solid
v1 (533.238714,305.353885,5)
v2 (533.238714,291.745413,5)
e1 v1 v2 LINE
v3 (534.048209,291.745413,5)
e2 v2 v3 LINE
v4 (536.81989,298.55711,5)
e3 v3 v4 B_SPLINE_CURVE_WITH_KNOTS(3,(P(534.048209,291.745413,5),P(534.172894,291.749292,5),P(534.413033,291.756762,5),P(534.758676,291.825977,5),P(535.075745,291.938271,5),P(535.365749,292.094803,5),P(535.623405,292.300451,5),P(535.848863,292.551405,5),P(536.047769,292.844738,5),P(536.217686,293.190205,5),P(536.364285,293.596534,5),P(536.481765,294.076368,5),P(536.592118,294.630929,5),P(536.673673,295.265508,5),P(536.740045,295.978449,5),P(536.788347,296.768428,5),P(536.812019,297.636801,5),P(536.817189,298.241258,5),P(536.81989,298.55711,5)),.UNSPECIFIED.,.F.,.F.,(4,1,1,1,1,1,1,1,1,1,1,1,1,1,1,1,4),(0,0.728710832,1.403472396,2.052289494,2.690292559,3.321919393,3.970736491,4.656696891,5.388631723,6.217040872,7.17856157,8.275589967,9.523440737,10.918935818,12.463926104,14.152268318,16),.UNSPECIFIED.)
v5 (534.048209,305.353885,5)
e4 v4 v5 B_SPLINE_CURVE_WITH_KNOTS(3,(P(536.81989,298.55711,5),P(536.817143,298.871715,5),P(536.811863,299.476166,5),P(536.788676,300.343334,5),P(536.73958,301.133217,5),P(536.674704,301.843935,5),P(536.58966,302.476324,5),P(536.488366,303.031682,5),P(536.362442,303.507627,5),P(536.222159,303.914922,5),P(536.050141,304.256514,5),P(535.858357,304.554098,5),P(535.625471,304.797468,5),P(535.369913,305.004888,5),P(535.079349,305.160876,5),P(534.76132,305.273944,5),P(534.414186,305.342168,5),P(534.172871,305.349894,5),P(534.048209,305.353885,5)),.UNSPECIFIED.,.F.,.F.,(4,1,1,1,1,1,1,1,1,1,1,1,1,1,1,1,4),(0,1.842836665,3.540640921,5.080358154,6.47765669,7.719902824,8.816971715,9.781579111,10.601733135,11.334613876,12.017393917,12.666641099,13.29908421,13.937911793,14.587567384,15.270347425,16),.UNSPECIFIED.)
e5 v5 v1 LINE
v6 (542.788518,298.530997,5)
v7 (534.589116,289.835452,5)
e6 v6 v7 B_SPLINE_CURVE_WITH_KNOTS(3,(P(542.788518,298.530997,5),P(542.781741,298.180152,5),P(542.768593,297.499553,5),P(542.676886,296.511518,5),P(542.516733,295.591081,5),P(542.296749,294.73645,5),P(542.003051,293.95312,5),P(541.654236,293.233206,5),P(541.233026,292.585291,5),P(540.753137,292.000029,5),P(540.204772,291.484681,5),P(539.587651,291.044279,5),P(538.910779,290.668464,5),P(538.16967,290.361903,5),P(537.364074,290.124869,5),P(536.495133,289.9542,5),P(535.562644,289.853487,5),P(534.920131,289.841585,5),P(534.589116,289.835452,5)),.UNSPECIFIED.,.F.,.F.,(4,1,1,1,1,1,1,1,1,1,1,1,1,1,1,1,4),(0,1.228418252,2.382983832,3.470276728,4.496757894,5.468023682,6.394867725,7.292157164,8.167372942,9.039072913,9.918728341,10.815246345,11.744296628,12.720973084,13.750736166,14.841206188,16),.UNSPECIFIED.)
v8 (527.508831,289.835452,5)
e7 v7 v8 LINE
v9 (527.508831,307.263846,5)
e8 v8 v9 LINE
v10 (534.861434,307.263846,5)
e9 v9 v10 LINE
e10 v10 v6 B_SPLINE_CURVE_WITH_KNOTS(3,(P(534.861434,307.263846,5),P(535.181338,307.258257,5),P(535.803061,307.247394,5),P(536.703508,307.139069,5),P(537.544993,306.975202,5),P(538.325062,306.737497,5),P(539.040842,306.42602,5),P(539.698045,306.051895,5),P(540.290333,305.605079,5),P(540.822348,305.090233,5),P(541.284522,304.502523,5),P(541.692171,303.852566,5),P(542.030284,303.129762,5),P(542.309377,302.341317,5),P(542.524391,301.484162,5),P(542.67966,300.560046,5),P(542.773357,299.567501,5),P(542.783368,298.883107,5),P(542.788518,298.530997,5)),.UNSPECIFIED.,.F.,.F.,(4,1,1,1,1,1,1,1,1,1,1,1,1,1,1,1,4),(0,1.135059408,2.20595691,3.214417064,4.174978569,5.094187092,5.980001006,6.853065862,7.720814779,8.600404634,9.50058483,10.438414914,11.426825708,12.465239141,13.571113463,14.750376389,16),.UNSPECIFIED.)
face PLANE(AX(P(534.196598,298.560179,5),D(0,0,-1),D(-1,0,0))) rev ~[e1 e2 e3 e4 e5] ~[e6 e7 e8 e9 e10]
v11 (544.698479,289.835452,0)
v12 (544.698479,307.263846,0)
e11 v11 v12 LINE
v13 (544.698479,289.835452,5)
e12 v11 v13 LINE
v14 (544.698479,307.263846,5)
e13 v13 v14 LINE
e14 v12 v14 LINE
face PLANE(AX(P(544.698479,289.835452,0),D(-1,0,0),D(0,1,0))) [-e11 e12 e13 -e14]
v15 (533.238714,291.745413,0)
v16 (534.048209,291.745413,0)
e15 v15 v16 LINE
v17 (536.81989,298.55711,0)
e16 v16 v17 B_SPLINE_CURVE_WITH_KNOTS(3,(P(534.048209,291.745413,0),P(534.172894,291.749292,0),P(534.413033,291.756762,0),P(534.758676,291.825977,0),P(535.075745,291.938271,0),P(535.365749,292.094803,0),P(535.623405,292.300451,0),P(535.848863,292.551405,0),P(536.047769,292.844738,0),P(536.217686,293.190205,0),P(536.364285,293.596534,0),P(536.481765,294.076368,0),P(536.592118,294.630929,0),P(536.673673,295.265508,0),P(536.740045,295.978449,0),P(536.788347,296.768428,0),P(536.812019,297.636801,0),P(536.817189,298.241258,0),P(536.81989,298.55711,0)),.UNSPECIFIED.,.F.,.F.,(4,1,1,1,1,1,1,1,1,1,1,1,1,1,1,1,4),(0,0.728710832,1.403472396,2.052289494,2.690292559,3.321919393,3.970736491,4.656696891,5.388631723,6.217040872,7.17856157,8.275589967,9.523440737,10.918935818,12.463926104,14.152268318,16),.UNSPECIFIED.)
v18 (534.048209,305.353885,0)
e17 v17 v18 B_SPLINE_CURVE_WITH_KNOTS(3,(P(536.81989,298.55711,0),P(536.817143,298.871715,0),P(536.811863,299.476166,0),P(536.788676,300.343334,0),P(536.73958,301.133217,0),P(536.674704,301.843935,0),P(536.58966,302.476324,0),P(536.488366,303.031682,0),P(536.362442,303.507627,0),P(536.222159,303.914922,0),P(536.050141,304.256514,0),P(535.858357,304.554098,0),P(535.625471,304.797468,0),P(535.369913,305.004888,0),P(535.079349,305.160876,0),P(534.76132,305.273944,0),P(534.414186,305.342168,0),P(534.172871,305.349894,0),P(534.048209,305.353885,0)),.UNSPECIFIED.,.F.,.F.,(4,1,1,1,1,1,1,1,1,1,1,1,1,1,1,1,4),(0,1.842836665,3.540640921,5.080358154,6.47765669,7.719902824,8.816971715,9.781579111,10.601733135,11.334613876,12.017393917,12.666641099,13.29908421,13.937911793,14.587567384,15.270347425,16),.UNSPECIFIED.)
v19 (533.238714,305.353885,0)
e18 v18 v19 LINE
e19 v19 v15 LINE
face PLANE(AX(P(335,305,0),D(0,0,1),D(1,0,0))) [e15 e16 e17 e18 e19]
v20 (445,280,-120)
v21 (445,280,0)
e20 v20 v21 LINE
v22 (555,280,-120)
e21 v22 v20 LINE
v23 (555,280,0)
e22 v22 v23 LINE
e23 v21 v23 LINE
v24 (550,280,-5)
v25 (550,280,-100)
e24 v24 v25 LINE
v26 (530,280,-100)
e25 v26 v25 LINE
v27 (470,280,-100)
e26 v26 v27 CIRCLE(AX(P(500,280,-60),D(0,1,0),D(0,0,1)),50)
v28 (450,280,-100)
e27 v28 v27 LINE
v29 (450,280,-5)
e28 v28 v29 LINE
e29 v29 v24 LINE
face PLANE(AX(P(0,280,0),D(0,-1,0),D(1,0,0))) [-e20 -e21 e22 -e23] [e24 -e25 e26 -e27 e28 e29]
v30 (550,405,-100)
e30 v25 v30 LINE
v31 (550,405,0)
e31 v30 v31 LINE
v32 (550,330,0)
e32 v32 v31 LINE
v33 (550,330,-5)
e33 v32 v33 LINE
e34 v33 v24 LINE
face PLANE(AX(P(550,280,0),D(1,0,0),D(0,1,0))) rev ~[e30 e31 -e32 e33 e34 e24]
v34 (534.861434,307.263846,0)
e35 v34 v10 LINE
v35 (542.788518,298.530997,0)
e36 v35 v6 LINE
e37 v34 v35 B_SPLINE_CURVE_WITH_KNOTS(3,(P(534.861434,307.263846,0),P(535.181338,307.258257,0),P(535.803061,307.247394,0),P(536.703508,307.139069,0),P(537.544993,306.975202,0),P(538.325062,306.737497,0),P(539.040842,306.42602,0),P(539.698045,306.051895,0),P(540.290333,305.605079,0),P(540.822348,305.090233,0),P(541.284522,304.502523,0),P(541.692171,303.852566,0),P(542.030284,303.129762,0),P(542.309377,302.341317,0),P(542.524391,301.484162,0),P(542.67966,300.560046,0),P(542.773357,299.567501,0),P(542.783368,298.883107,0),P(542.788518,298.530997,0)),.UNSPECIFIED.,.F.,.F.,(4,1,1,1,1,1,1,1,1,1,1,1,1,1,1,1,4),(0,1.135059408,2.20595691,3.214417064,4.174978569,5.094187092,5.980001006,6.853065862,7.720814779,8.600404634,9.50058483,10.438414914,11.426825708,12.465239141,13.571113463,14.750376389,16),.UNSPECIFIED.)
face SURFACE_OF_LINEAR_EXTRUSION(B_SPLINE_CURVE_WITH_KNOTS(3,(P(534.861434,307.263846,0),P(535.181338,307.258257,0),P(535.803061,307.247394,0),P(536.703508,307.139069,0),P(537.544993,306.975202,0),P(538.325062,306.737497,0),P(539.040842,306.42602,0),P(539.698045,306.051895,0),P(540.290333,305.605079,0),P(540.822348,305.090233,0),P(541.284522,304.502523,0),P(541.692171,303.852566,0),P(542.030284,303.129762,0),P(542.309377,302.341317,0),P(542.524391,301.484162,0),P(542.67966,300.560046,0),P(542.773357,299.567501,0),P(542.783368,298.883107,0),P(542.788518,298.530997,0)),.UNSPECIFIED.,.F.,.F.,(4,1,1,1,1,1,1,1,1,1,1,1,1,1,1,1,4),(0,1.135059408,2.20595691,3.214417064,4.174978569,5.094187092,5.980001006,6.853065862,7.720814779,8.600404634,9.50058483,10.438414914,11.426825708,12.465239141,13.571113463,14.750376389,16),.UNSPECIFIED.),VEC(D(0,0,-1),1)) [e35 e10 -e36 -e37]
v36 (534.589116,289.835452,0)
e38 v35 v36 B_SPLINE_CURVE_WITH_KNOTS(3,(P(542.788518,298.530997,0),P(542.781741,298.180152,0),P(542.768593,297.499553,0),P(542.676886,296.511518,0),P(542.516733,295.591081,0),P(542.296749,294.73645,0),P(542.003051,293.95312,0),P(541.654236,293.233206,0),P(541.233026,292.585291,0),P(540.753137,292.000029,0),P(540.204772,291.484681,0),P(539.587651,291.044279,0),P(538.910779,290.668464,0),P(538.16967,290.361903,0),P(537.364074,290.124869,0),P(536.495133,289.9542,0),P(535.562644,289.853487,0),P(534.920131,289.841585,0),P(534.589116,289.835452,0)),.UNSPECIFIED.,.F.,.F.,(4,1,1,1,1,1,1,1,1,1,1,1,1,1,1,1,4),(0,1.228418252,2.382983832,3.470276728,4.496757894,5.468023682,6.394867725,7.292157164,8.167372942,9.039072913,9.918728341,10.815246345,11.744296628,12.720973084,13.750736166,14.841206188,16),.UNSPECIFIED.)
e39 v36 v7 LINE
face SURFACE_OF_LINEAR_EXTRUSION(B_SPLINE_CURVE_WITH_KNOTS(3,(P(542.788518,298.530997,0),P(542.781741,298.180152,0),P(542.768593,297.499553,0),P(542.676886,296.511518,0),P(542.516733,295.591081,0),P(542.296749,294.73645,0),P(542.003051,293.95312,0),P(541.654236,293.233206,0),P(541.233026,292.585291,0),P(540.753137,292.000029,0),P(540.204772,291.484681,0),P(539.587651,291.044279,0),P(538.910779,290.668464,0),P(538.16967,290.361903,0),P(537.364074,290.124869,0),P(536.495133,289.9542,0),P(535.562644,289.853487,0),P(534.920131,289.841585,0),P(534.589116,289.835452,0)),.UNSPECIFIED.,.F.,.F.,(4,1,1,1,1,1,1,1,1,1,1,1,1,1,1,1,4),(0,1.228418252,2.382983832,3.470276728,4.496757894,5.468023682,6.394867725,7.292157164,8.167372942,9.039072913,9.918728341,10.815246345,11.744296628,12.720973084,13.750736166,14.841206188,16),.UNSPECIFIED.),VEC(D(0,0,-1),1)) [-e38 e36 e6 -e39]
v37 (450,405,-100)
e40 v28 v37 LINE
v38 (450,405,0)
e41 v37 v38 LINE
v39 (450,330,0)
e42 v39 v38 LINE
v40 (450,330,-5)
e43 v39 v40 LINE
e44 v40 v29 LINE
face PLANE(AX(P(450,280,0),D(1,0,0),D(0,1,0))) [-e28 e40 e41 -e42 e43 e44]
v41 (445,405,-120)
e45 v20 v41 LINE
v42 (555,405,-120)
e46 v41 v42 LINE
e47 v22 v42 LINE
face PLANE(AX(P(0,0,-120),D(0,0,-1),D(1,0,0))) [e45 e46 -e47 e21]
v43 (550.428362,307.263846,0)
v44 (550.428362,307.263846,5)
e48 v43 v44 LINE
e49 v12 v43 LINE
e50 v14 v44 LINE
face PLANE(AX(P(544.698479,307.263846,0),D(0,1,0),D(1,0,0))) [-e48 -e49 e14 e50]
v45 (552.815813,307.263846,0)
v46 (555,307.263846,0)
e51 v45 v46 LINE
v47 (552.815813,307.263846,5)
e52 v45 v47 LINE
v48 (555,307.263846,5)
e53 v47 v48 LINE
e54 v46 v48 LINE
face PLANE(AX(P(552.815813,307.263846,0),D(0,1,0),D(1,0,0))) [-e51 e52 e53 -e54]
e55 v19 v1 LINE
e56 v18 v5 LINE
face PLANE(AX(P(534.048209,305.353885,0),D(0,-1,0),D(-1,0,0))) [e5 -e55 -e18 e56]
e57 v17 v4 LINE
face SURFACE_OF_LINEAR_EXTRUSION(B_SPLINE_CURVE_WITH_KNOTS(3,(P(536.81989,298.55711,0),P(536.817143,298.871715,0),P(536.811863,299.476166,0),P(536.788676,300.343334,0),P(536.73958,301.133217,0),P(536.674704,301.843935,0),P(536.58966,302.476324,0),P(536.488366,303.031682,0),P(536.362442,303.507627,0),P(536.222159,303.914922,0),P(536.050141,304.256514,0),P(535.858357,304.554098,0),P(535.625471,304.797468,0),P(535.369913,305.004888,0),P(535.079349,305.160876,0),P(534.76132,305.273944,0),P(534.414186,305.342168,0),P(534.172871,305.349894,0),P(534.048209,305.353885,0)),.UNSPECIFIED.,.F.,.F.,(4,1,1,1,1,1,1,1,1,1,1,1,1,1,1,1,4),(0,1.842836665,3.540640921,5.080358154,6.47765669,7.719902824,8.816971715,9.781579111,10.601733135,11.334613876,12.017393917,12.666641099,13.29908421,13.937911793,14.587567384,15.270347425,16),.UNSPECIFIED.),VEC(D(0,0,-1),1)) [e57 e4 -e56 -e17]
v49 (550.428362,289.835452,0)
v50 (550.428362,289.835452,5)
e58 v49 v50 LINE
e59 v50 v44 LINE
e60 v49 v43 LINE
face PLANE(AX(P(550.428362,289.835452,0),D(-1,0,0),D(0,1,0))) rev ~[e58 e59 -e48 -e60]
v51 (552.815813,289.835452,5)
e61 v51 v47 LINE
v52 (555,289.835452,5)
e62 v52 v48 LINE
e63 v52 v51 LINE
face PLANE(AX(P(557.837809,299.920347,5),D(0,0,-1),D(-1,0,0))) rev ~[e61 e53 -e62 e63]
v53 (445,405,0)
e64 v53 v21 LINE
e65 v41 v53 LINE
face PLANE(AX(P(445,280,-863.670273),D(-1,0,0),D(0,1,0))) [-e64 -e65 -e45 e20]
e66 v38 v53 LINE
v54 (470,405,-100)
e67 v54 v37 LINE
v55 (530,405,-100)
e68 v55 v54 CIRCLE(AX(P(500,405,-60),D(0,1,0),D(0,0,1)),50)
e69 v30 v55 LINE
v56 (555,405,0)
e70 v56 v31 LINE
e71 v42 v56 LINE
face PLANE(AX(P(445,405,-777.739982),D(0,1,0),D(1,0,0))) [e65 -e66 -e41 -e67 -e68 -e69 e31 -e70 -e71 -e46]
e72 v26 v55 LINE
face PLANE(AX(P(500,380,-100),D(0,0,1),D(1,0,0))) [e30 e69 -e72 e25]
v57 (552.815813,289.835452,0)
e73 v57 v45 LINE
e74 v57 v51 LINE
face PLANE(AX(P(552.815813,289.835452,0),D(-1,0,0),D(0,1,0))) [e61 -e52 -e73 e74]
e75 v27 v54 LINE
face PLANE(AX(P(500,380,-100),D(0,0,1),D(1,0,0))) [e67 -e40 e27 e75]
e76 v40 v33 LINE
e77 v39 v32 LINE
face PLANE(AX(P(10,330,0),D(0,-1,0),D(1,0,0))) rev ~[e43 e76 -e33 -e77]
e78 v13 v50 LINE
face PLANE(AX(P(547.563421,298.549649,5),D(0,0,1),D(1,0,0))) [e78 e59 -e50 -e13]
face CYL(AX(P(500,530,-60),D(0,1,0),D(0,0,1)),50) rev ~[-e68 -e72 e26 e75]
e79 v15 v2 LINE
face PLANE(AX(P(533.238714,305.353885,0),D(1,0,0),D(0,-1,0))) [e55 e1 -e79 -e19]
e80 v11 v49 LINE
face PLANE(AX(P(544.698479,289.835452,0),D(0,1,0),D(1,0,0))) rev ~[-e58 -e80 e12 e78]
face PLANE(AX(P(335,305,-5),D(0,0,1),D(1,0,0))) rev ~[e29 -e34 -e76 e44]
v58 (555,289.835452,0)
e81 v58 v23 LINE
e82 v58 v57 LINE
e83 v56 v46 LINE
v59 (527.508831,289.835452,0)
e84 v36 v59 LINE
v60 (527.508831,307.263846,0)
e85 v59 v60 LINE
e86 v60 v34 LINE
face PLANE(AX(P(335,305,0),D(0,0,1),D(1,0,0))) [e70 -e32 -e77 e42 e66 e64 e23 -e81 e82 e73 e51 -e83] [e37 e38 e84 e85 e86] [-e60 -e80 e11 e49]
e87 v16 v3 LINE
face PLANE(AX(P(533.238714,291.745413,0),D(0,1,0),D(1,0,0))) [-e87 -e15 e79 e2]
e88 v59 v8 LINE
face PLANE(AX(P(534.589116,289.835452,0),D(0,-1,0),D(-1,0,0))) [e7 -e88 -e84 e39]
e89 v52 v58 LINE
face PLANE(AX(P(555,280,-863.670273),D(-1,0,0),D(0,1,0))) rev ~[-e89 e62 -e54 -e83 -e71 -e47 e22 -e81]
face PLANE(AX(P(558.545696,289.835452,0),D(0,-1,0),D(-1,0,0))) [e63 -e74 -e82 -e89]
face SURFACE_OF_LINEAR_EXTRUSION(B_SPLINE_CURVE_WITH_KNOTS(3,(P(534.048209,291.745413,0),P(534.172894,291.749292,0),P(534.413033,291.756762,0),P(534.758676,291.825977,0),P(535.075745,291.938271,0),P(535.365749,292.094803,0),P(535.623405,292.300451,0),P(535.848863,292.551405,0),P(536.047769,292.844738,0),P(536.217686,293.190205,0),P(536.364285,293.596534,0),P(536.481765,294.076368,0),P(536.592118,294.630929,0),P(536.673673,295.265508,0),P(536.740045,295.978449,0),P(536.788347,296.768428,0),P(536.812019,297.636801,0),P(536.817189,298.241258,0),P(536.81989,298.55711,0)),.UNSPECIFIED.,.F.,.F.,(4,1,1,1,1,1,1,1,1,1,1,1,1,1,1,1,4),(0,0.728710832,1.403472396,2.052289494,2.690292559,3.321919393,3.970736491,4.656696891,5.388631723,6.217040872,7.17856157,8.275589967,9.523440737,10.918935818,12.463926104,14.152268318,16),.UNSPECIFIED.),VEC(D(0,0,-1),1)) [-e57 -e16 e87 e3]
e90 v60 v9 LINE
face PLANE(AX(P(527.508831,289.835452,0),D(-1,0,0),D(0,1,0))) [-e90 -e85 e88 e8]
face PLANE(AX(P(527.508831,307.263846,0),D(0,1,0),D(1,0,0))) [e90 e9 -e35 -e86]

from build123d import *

# Parameters (mm, degrees)
SKETCH1_W                      = 670
SKETCH1_H                      = 120
BOSS_EXTRUDE1_DEPTH            = 530
SKETCH2_W                      = 100
SKETCH2_H                      = 200
SKETCH2_W_2                    = 650
SKETCH2_H_2                    = 250
CUT_EXTRUDE1_DEPTH             = 100
SKETCH3_R                      = 50
CUT_EXTRUDE2_DEPTH             = 260
F_12_0_12_DIAMETER_HOLE2_D     = 12
F_12_0_12_DIAMETER_HOLE2_DEPTH = 30
F_12_0_12_DIAMETER_HOLE2_TIP   = 3.605163714
SKETCH8_W                      = 650
SKETCH8_H                      = 50
BOSS_EXTRUDE2_DEPTH            = 5
SKETCH9_W                      = 10
SKETCH9_H                      = 250
CUT_EXTRUDE3_DEPTH             = 717
CUT_EXTRUDE4_DEPTH             = 5
SKETCH11_W                     = 10
SKETCH11_H                     = 100
BOSS_EXTRUDE3_DEPTH            = 78
BOSS_EXTRUDE3_2_DEPTH          = 78
BOSS_EXTRUDE3_3_DEPTH          = 78
SKETCH12_W                     = 20
SKETCH12_H                     = 30
CUT_EXTRUDE5_DEPTH             = 80
SKETCH15_W                     = 30
SKETCH15_H                     = 23.536156656
SKETCH15_H_2                   = 28.986603691
CUT_EXTRUDE7_DEPTH             = 35
SHELL1_T                       = -3
SKETCH16_W                     = 14
SKETCH16_H                     = 14
CUT_EXTRUDE8_DEPTH             = 35
SKETCH17_W                     = 5.729882812
SKETCH17_H                     = 17.428393554
SKETCH17_W_2                   = 13.369726562
SKETCH17_H_2                   = 3.342431641
BOSS_EXTRUDE4_DEPTH            = 5
SKETCH18_W                     = 670
SKETCH18_H                     = 280
CUT_EXTRUDE10_DEPTH            = 159
CUT_EXTRUDE11_DEPTH            = 863.670273187
CUT_EXTRUDE11_DEPTH_BACK       = 863.670273187
SKETCH19_W                     = 115
SKETCH19_H                     = 250
SKETCH19_W_2                   = 445
CUT_EXTRUDE12_DEPTH            = 777.739982373
CUT_EXTRUDE12_DEPTH_BACK       = 777.739982373
SKETCH20_W                     = 110
SKETCH20_H                     = 125


with BuildPart() as part:
    # Sketch1 → Boss-Extrude1 (new body)
    with BuildSketch(Plane(origin=(0, 0, 0), x_dir=(1, 0, 0), z_dir=(0, 1, 0))):
        with Locations((335, 60)):
            Rectangle(SKETCH1_W, SKETCH1_H)
    extrude(amount=BOSS_EXTRUDE1_DEPTH)

    # Sketch2 → Cut-Extrude1 (cut)
    with BuildSketch(Plane.XY):
        with Locations((60, 380)):
            Rectangle(SKETCH2_W, SKETCH2_H)
        with Locations((170, 380)):
            Rectangle(SKETCH2_W, SKETCH2_H)
        with Locations((280, 380)):
            Rectangle(SKETCH2_W, SKETCH2_H)
        with Locations((390, 380)):
            Rectangle(SKETCH2_W, SKETCH2_H)
        with Locations((500, 380)):
            Rectangle(SKETCH2_W, SKETCH2_H)
        with Locations((610, 380)):
            Rectangle(SKETCH2_W, SKETCH2_H)
        with Locations((335, 135)):
            Rectangle(SKETCH2_W_2, SKETCH2_H_2)
    extrude(amount=-CUT_EXTRUDE1_DEPTH, mode=Mode.SUBTRACT)

    # Sketch3 → Cut-Extrude2 (cut)
    with BuildSketch(Plane(origin=(0, 530, 0), x_dir=(1, 0, 0), z_dir=(0, 1, 0))):
        with Locations(Location((60, 60, 0), (0, 0, 270))):
            Circle(SKETCH3_R)
        with Locations(Location((170, 60, 0), (0, 0, 270))):
            Circle(SKETCH3_R)
        with Locations(Location((280, 60, 0), (0, 0, 270))):
            Circle(SKETCH3_R)
        with Locations(Location((390, 60, 0), (0, 0, 270))):
            Circle(SKETCH3_R)
        with Locations(Location((500, 60, 0), (0, 0, 270))):
            Circle(SKETCH3_R)
        with Locations(Location((610, 60, 0), (0, 0, 270))):
            Circle(SKETCH3_R)
    extrude(amount=-CUT_EXTRUDE2_DEPTH, mode=Mode.SUBTRACT)

    # Ø12.0 (12) Diameter Hole2
    with Locations(Plane(origin=(59.704642413, 270, -102.411697903), x_dir=(0, 0, 1), z_dir=(0, 1, 0))):
        with Locations((0, 0), (-0.195888006, 111.8520513), (0.014838595, 221.167624818), (-0.341843303, 331.364008353), (0.657723149, 441.008646429), (1.288998006, 549.811854685)):
            Hole(F_12_0_12_DIAMETER_HOLE2_D / 2, depth=F_12_0_12_DIAMETER_HOLE2_DEPTH)
            with Locations((0, 0, -(F_12_0_12_DIAMETER_HOLE2_DEPTH + F_12_0_12_DIAMETER_HOLE2_TIP / 2))):  # 118° drill point
                Cone(0, F_12_0_12_DIAMETER_HOLE2_D / 2, F_12_0_12_DIAMETER_HOLE2_TIP, mode=Mode.SUBTRACT)

    # Sketch8 → Boss-Extrude2 (add)
    with BuildSketch(Plane.XY):
        with Locations((335, 305)):
            Rectangle(SKETCH8_W, SKETCH8_H)
    extrude(amount=-BOSS_EXTRUDE2_DEPTH)

    # Sketch9 → Cut-Extrude3 (cut)
    with BuildSketch(Plane(origin=(670, 0, 0), x_dir=(0, 0, -1), z_dir=(1, 0, 0))):
        with Locations((15, 135)):
            Rectangle(SKETCH9_W, SKETCH9_H)
    extrude(amount=-CUT_EXTRUDE3_DEPTH, mode=Mode.SUBTRACT)

    # Sketch10 → Cut-Extrude4 (cut)
    with BuildSketch(Plane(origin=(0, 10, 0), x_dir=(1, 0, 0), z_dir=(0, 1, 0))):
        Polygon((365, 61.943560596), (350, 87.924322709), (320, 87.924322709), (305, 61.943560596), (320, 35.962798482), (350, 35.962798482), align=None)
    extrude(amount=-CUT_EXTRUDE4_DEPTH, mode=Mode.SUBTRACT)

    # Sketch12 → Cut-Extrude5 (cut)
    with BuildSketch(Plane.XY.offset(-100)):
        with Locations((85.198613037, 245)):
            Rectangle(SKETCH12_W, SKETCH12_H)
        with Locations((195.198613037, 245)):
            Rectangle(SKETCH12_W, SKETCH12_H)
        with Locations((305.198613037, 245)):
            Rectangle(SKETCH12_W, SKETCH12_H)
        with Locations((415.198613037, 245)):
            Rectangle(SKETCH12_W, SKETCH12_H)
        with Locations((525.198613037, 245)):
            Rectangle(SKETCH12_W, SKETCH12_H)
        with Locations((635.198613037, 245)):
            Rectangle(SKETCH12_W, SKETCH12_H)
    extrude(amount=-CUT_EXTRUDE5_DEPTH, mode=Mode.SUBTRACT)

    # Sketch17 → Boss-Extrude4 (add)
    # profile 1 of 9: a face of its own
    with BuildSketch(Plane.XY):
        with BuildLine():
            Line((527.508830928, 289.835452458), (527.508830928, 307.263846012))
            Line((527.508830928, 307.263846012), (534.861434459, 307.263846012))
            add(Edge.make_bspline(
                [(534.861434459, 307.263846012), (535.181337774, 307.258256848), (535.803061116, 307.24739446), (536.703508491, 307.139069344), (537.544992916, 306.975202489), (538.325061607, 306.737496792), (539.040841948, 306.426020155), (539.698044515, 306.051894954), (540.290333057, 305.605079277), (540.822348212, 305.090232636), (541.284521701, 304.502523111), (541.692171296, 303.852565801), (542.030284458, 303.129762281), (542.309377095, 302.341316546), (542.5243908, 301.484161689), (542.679660381, 300.560045938), (542.773357357, 299.567500804), (542.783368073, 298.883107022), (542.788518428, 298.530997273)],
                knots=[0, 0, 0, 0, 1.135059408, 2.20595691, 3.214417064, 4.174978569, 5.094187092, 5.980001006, 6.853065862, 7.720814779, 8.600404634, 9.50058483, 10.438414914, 11.426825708, 12.465239141, 13.571113463, 14.750376389, 16, 16, 16, 16], degree=3))
            add(Edge.make_bspline(
                [(542.788518428, 298.530997273), (542.781740751, 298.180151665), (542.768592871, 297.499553336), (542.676885992, 296.511518461), (542.516733301, 295.591080531), (542.296748778, 294.736450427), (542.003051046, 293.953120444), (541.654236167, 293.233205539), (541.233025793, 292.585291498), (540.753136904, 292.000029304), (540.204772188, 291.484681411), (539.587651059, 291.044279297), (538.910779309, 290.668464036), (538.169670382, 290.361903209), (537.364073889, 290.124869172), (536.495133477, 289.954199984), (535.562644449, 289.853487388), (534.920131033, 289.841584621), (534.58911581, 289.835452458)],
                knots=[0, 0, 0, 0, 1.228418252, 2.382983832, 3.470276728, 4.496757894, 5.468023682, 6.394867725, 7.292157164, 8.167372942, 9.039072913, 9.918728341, 10.815246345, 11.744296628, 12.720973084, 13.750736166, 14.841206188, 16, 16, 16, 16], degree=3))
            Line((534.58911581, 289.835452458), (527.508830928, 289.835452458))
        make_face()
        with BuildLine():
            Line((533.238713741, 291.745413395), (534.048208904, 291.745413395))
            add(Edge.make_bspline(
                [(534.048208904, 291.745413395), (534.172894012, 291.749291978), (534.413033311, 291.756761998), (534.758676231, 291.825976613), (535.075745017, 291.938271137), (535.365749176, 292.094802589), (535.623404602, 292.300450923), (535.848862806, 292.551404902), (536.04776914, 292.844737637), (536.217685755, 293.190205032), (536.364284647, 293.596533622), (536.481764702, 294.076367921), (536.592118304, 294.630928744), (536.673672739, 295.265507643), (536.740044562, 295.978448886), (536.788346679, 296.768428292), (536.812018936, 297.636801208), (536.817188964, 298.241258393), (536.819890499, 298.55711002)],
                knots=[0, 0, 0, 0, 0.728710832, 1.403472396, 2.052289494, 2.690292559, 3.321919393, 3.970736491, 4.656696891, 5.388631723, 6.217040872, 7.17856157, 8.275589967, 9.523440737, 10.918935818, 12.463926104, 14.152268318, 16, 16, 16, 16], degree=3))
            add(Edge.make_bspline(
                [(536.819890499, 298.55711002), (536.8171426, 298.871715251), (536.811863063, 299.476166083), (536.7886758, 300.343334385), (536.739579947, 301.133216935), (536.674703848, 301.843934916), (536.589660404, 302.476324031), (536.488366458, 303.031681737), (536.362441588, 303.507627045), (536.222158727, 303.914921549), (536.050140993, 304.256514038), (535.858357073, 304.554097881), (535.62547107, 304.79746827), (535.36991257, 305.004888479), (535.079348843, 305.160875844), (534.761320266, 305.273944358), (534.414185903, 305.34216807), (534.172870641, 305.349893944), (534.048208904, 305.353885075)],
                knots=[0, 0, 0, 0, 1.842836665, 3.540640921, 5.080358154, 6.47765669, 7.719902824, 8.816971715, 9.781579111, 10.601733135, 11.334613876, 12.017393917, 12.666641099, 13.29908421, 13.937911793, 14.587567384, 15.270347425, 16, 16, 16, 16], degree=3))
            Line((534.048208904, 305.353885075), (533.238713741, 305.353885075))
            Line((533.238713741, 305.353885075), (533.238713741, 291.745413395))
        make_face(mode=Mode.SUBTRACT)
    # profile 2 of 9: a face of its own
    with BuildSketch(Plane.XY):
        with Locations((547.563420772, 298.549649235)):
            Rectangle(SKETCH17_W, SKETCH17_H)
    # profile 3 of 9: a face of its own
    with BuildSketch(Plane.XY):
        Polygon((564.514324092, 307.263846012), (564.514324092, 305.115139958), (558.545696163, 305.115139958), (558.545696163, 299.862747379), (563.559343624, 299.862747379), (563.559343624, 297.714041325), (558.545696163, 297.714041325), (558.545696163, 289.835452458), (552.81581335, 289.835452458), (552.81581335, 307.263846012), align=None)
    # profile 4 of 9: a face of its own
    with BuildSketch(Plane.XY):
        Polygon((577.645305538, 307.263846012), (577.645305538, 305.115139958), (571.676677608, 305.115139958), (571.676677608, 299.862747379), (576.690325069, 299.862747379), (576.690325069, 297.714041325), (571.676677608, 297.714041325), (571.676677608, 289.835452458), (565.946794795, 289.835452458), (565.946794795, 307.263846012), align=None)
    # profile 5 of 9: a face of its own
    with BuildSketch(Plane.XY):
        with Locations((584.330168819, 287.448001286)):
            Rectangle(SKETCH17_W_2, SKETCH17_H_2)
    # profile 6 of 9: a face of its own
    with BuildSketch(Plane.XY):
        with BuildLine():
            Line((605.578484249, 307.263846012), (605.578484249, 295.602639195))
            add(Edge.make_bspline(
                [(605.578484249, 295.602639195), (605.574209777, 295.35989389), (605.565919345, 294.889083964), (605.480877158, 294.20653885), (605.349958188, 293.569747554), (605.15926554, 292.978838165), (604.911867049, 292.436847071), (604.616163877, 291.936663973), (604.260702644, 291.487723021), (603.847299908, 291.08966617), (603.386881991, 290.731670113), (602.867295001, 290.425440037), (602.293741958, 290.168488385), (601.66690529, 289.960990771), (600.988052682, 289.797299786), (600.254912883, 289.679078851), (599.467035781, 289.60781007), (598.923618241, 289.60048219), (598.643684673, 289.59670734)],
                knots=[0, 0, 0, 0, 1.108173197, 2.149326602, 3.136215123, 4.073726706, 4.978516626, 5.852185058, 6.72141202, 7.584905625, 8.467554395, 9.379216169, 10.332422268, 11.332766067, 12.390653242, 13.518530507, 14.721707419, 16, 16, 16, 16], degree=3))
            add(Edge.make_bspline(
                [(598.643684673, 289.59670734), (598.373688491, 289.600411437), (597.851346557, 289.607577482), (597.093280473, 289.679448684), (596.387523889, 289.797736542), (595.733050135, 289.960122315), (595.130189942, 290.169220301), (594.579048171, 290.42623041), (594.078350789, 290.732835498), (593.633858028, 291.090104794), (593.234289459, 291.486851767), (592.899913678, 291.940746827), (592.609043638, 292.435866034), (592.375223767, 292.980322997), (592.191754821, 293.570441519), (592.063541006, 294.20666921), (591.983676196, 294.889343196), (591.974661767, 295.359932437), (591.970012569, 295.602639195)],
                knots=[0, 0, 0, 0, 1.258901956, 2.435505865, 3.547148904, 4.59359074, 5.576649289, 6.5183682, 7.424469602, 8.307507093, 9.172751023, 10.042627298, 10.928839176, 11.845659241, 12.799442865, 13.80597989, 14.868432463, 16, 16, 16, 16], degree=3))
            Line((591.970012569, 295.602639195), (591.970012569, 307.263846012))
            Line((591.970012569, 307.263846012), (597.699895381, 307.263846012))
            Line((597.699895381, 307.263846012), (597.699895381, 295.457153889))
            add(Edge.make_bspline(
                [(597.699895381, 295.457153889), (597.700816195, 295.287996189), (597.702584578, 294.963135903), (597.729908723, 294.499051493), (597.768241004, 294.079064133), (597.828226169, 293.705517832), (597.90066041, 293.377063412), (597.989882091, 293.09281535), (598.094998068, 292.852496478), (598.225239063, 292.654232043), (598.380826623, 292.495135011), (598.55368342, 292.353231761), (598.757556996, 292.238543846), (598.987648905, 292.146224908), (599.243380948, 292.070549638), (599.526120553, 292.020376099), (599.83553351, 291.990763905), (600.049971942, 291.986424568), (600.161954402, 291.984158512)],
                knots=[0, 0, 0, 0, 1.622370975, 3.115695595, 4.458049099, 5.666011203, 6.742434742, 7.681714947, 8.519814998, 9.250928664, 9.942747364, 10.646898194, 11.389596108, 12.175933929, 13.021386247, 13.943159715, 14.925891993, 16, 16, 16, 16], degree=3))
            add(Edge.make_bspline(
                [(600.161954402, 291.984158512), (600.283927219, 291.987190593), (600.521124756, 291.993087005), (600.86597014, 292.03390861), (601.187714881, 292.103380086), (601.484890424, 292.205377303), (601.758665297, 292.332852529), (602.012761516, 292.484567923), (602.236391413, 292.674631152), (602.439076761, 292.888441291), (602.620738276, 293.128529789), (602.771757722, 293.399928575), (602.905501548, 293.697121508), (603.005823683, 294.025060118), (603.089837826, 294.379999499), (603.146989706, 294.763086929), (603.186210275, 295.174074524), (603.189394751, 295.457053988), (603.191033077, 295.602639195)],
                knots=[0, 0, 0, 0, 1.083870311, 2.107775948, 3.08105344, 4.003637981, 4.893545291, 5.761570557, 6.624657808, 7.49233129, 8.376387281, 9.291996285, 10.246843261, 11.267344133, 12.334180325, 13.486053461, 14.706643157, 16, 16, 16, 16], degree=3))
            Line((603.191033077, 295.602639195), (603.191033077, 307.263846012))
            Line((603.191033077, 307.263846012), (605.578484249, 307.263846012))
        make_face()
    # profile 7 of 9: a face of its own
    with BuildSketch(Plane.XY):
        with BuildLine():
            Line((619.731593227, 302.015183827), (616.739818477, 301.526502415))
            add(Edge.make_bspline(
                [(616.739818477, 301.526502415), (616.748849224, 301.670726223), (616.765660669, 301.939210177), (616.78429066, 302.312269209), (616.796668381, 302.625642376), (616.798628236, 302.814722915), (616.799504756, 302.899286839)],
                knots=[0, 0, 0, 0, 1.261802504, 2.348944521, 3.261585937, 4, 4, 4, 4], degree=3))
            add(Edge.make_bspline(
                [(616.799504756, 302.899286839), (616.798306068, 303.007660677), (616.795968139, 303.219033721), (616.750451916, 303.523894877), (616.694806916, 303.811547356), (616.604352699, 304.076787391), (616.488181329, 304.320314265), (616.348943917, 304.543955606), (616.184187178, 304.745078709), (615.995833421, 304.928129987), (615.778009957, 305.083200131), (615.536269472, 305.218702836), (615.269765326, 305.333844758), (614.978065514, 305.431346685), (614.660683072, 305.504624438), (614.319025281, 305.556776695), (613.952471696, 305.585673441), (613.699597795, 305.590260771), (613.568984889, 305.592630192)],
                knots=[0, 0, 0, 0, 1.079280541, 2.105035848, 3.067950317, 3.99715044, 4.889989748, 5.753421302, 6.617030865, 7.476358039, 8.364190572, 9.274590025, 10.235106994, 11.254473582, 12.337095886, 13.478601727, 14.697662529, 16, 16, 16, 16], degree=3))
            add(Edge.make_bspline(
                [(613.568984889, 305.592630192), (613.391954632, 305.58912286), (613.059112606, 305.582528579), (612.595688488, 305.495339748), (612.198743126, 305.361419257), (611.87165349, 305.163811893), (611.613188167, 304.909795747), (611.433841092, 304.593316589), (611.323009072, 304.224665915), (611.313400221, 303.959558324), (611.308367061, 303.820693775)],
                knots=[0, 0, 0, 0, 1.294917039, 2.43462794, 3.440028966, 4.347597256, 5.210608309, 6.06356377, 6.985685997, 8, 8, 8, 8], degree=3))
            add(Edge.make_bspline(
                [(611.308367061, 303.820693775), (611.317562032, 303.705133219), (611.336106628, 303.472068433), (611.47315858, 303.132808312), (611.695999602, 302.811560885), (612.009295906, 302.510664216), (612.404107796, 302.221967273), (612.884407504, 301.948533431), (613.450813789, 301.688189695), (613.862519081, 301.536023727), (614.080048656, 301.455624958)],
                knots=[0, 0, 0, 0, 0.716839541, 1.445735977, 2.240793036, 3.131329288, 4.131129903, 5.273471266, 6.559404876, 8, 8, 8, 8], degree=3))
            add(Edge.make_bspline(
                [(614.080048656, 301.455624958), (614.335934702, 301.364918412), (614.834564244, 301.188164095), (615.547657928, 300.88707802), (616.213068388, 300.5749594), (616.829579094, 300.246613346), (617.397833174, 299.90520698), (617.914851624, 299.544556457), (618.386199073, 299.173962102), (618.807001026, 298.783874588), (619.177995113, 298.378100064), (619.4958685, 297.952745357), (619.771807525, 297.51723103), (619.991113975, 297.061458502), (620.169645242, 296.594624218), (620.292698657, 296.11024444), (620.364288243, 295.609761088), (620.37516617, 295.270864226), (620.380681514, 295.099036213)],
                knots=[0, 0, 0, 0, 1.359488612, 2.649152603, 3.874964776, 5.039588756, 6.146130126, 7.193090393, 8.194917302, 9.146793662, 10.063845301, 10.944476293, 11.803344532, 12.641736646, 13.473440096, 14.302714936, 15.139439897, 16, 16, 16, 16], degree=3))
            add(Edge.make_bspline(
                [(620.380681514, 295.099036213), (620.374476075, 294.902306495), (620.362285176, 294.515820995), (620.280160209, 293.948630617), (620.138011896, 293.409496554), (619.938489338, 292.895972278), (619.681049879, 292.411946655), (619.366518754, 291.954381076), (618.996510229, 291.525099427), (618.5710008, 291.128381035), (618.102222518, 290.765302239), (617.587803957, 290.450854345), (617.034458515, 290.187092261), (616.444107988, 289.968993032), (615.81453624, 289.801373099), (615.145337453, 289.685291013), (614.438790193, 289.606619894), (613.954683001, 289.600062276), (613.70700941, 289.59670734)],
                knots=[0, 0, 0, 0, 0.972121714, 1.909782367, 2.824924061, 3.721832975, 4.62620438, 5.527836938, 6.46026819, 7.421000932, 8.398101015, 9.385579713, 10.394244048, 11.422703992, 12.491421888, 13.608778581, 14.776629625, 16, 16, 16, 16], degree=3))
            add(Edge.make_bspline(
                [(613.70700941, 289.59670734), (613.445745367, 289.599650312), (612.939893069, 289.605348413), (612.207608113, 289.66709241), (611.525297432, 289.760984454), (610.893395078, 289.899706116), (610.309273131, 290.072394336), (609.776099392, 290.288320955), (609.295310255, 290.547303481), (608.863217672, 290.843007892), (608.478306623, 291.175775461), (608.148120946, 291.551766865), (607.86942369, 291.967163224), (607.639947144, 292.421521488), (607.466477665, 292.917583541), (607.339164663, 293.449829748), (607.264537999, 294.021332449), (607.254747521, 294.414908557), (607.249700069, 294.617815586)],
                knots=[0, 0, 0, 0, 1.342201143, 2.598733168, 3.773451092, 4.878874364, 5.91991243, 6.900006476, 7.829142054, 8.72062616, 9.585588575, 10.436728592, 11.283829734, 12.149664931, 13.044964919, 13.977937424, 14.957531465, 16, 16, 16, 16], degree=3))
            add(Edge.make_bspline(
                [(607.249700069, 294.617815586), (607.250803815, 294.692425759), (607.253213998, 294.855347393), (607.260452266, 295.122772538), (607.275636683, 295.433682216), (607.29037174, 295.656130545), (607.298195171, 295.774237248)],
                knots=[0, 0, 0, 0, 0.773500207, 1.689044709, 2.77302154, 4, 4, 4, 4], degree=3))
            Line((607.298195171, 295.774237248), (610.36457777, 296.337526509))
            add(Edge.make_bspline(
                [(610.36457777, 296.337526509), (610.326952988, 296.136337493), (610.255606535, 295.754830366), (610.178678473, 295.21219969), (610.124206629, 294.733311493), (610.11767002, 294.435147371), (610.114641475, 294.297001835)],
                knots=[0, 0, 0, 0, 1.192988372, 2.262218769, 3.194850416, 4, 4, 4, 4], degree=3))
            add(Edge.make_bspline(
                [(610.114641475, 294.297001835), (610.116191817, 294.183708768), (610.119182568, 293.965156219), (610.159053378, 293.648552813), (610.215988606, 293.352999663), (610.302906772, 293.079707227), (610.411206928, 292.826307836), (610.544682453, 292.59538211), (610.704385489, 292.386485019), (610.887496571, 292.200099922), (611.094689168, 292.033628705), (611.327456494, 291.892756696), (611.58347653, 291.771733922), (611.864681562, 291.677479524), (612.167961721, 291.596080628), (612.497219749, 291.548235723), (612.849461228, 291.512043782), (613.092629543, 291.508500084), (613.218327999, 291.506668278)],
                knots=[0, 0, 0, 0, 1.135776692, 2.191015738, 3.19649269, 4.151244236, 5.061952528, 5.956281389, 6.819534407, 7.692823504, 8.571441916, 9.478554956, 10.416037156, 11.406231466, 12.450054172, 13.561596327, 14.739541482, 16, 16, 16, 16], degree=3))
            add(Edge.make_bspline(
                [(613.218327999, 291.506668278), (613.423996012, 291.510791273), (613.810619321, 291.518541853), (614.349272542, 291.616708407), (614.810575885, 291.768742445), (615.189785268, 291.991387532), (615.490778961, 292.278756613), (615.698005174, 292.637320004), (615.824813318, 293.05638326), (615.837728413, 293.355975238), (615.844524288, 293.513619419)],
                knots=[0, 0, 0, 0, 1.308765556, 2.460272085, 3.475015317, 4.388076298, 5.239673503, 6.095681635, 6.997954785, 8, 8, 8, 8], degree=3))
            add(Edge.make_bspline(
                [(615.844524288, 293.513619419), (615.833808824, 293.638242951), (615.811807312, 293.894126055), (615.644884004, 294.264515838), (615.382382362, 294.620631473), (615.016807277, 294.962984909), (614.551376589, 295.293471235), (613.986957743, 295.616730224), (613.322148235, 295.933112033), (612.83677959, 296.119639164), (612.580430889, 296.21815395)],
                knots=[0, 0, 0, 0, 0.667930748, 1.371427933, 2.146459016, 3.034714139, 4.04893387, 5.207327294, 6.525042705, 8, 8, 8, 8], degree=3))
            add(Edge.make_bspline(
                [(612.580430889, 296.21815395), (612.374354345, 296.29679374), (611.970646869, 296.450850434), (611.394079385, 296.713586304), (610.853066711, 296.987016804), (610.357486361, 297.288235735), (609.896382561, 297.599610528), (609.477036946, 297.932256792), (609.09841673, 298.284556341), (608.758710772, 298.653375077), (608.457302107, 299.038989264), (608.199448649, 299.444659231), (607.977533299, 299.866789834), (607.798609588, 300.308107488), (607.65975715, 300.767821241), (607.559616231, 301.244439392), (607.497905054, 301.739995674), (607.491630423, 302.075933546), (607.488445186, 302.246468159)],
                knots=[0, 0, 0, 0, 1.249558333, 2.447906163, 3.58867143, 4.682264114, 5.731748367, 6.739728761, 7.711906036, 8.659384707, 9.578321416, 10.481344598, 11.379544271, 12.277135726, 13.175418307, 14.097160112, 15.034047388, 16, 16, 16, 16], degree=3))
            add(Edge.make_bspline(
                [(607.488445186, 302.246468159), (607.49282555, 302.439538736), (607.501402184, 302.817565692), (607.587451154, 303.36980586), (607.719291893, 303.894921371), (607.910558542, 304.389343064), (608.156192894, 304.852853762), (608.453187669, 305.288766511), (608.804241719, 305.697593471), (609.213503754, 306.066686531), (609.657214714, 306.407618241), (610.14376173, 306.697651931), (610.658716537, 306.950861947), (611.210636666, 307.148827868), (611.791820619, 307.313252612), (612.408080529, 307.421140415), (613.056315391, 307.490701612), (613.499160755, 307.498567824), (613.725661373, 307.502591129)],
                knots=[0, 0, 0, 0, 1.01033566, 1.978209831, 2.919499157, 3.840961976, 4.746855014, 5.660740114, 6.597989116, 7.56120833, 8.541877795, 9.523498025, 10.522416858, 11.542172371, 12.589598349, 13.681636521, 14.814234488, 16, 16, 16, 16], degree=3))
            add(Edge.make_bspline(
                [(613.725661373, 307.502591129), (613.968269855, 307.498219033), (614.438190994, 307.489750488), (615.120391152, 307.426787419), (615.755073228, 307.319142339), (616.345153155, 307.171557286), (616.887304575, 306.977590666), (617.384933999, 306.742393454), (617.834452216, 306.46201507), (618.236961315, 306.139451502), (618.593086714, 305.773322851), (618.897467704, 305.361641069), (619.158701245, 304.909408454), (619.366684143, 304.412232174), (619.529870326, 303.873247147), (619.649133834, 303.29158184), (619.720420497, 302.667301443), (619.72779778, 302.236712324), (619.731593227, 302.015183827)],
                knots=[0, 0, 0, 0, 1.248314423, 2.417925914, 3.521398822, 4.558068205, 5.543720209, 6.479599284, 7.385061127, 8.263440163, 9.127722873, 10.00561236, 10.891325273, 11.808802823, 12.772251995, 13.784947978, 14.860405143, 16, 16, 16, 16], degree=3))
        make_face()
    # profile 8 of 9: a face of its own
    with BuildSketch(Plane.XY):
        Polygon((633.989153194, 307.263846012), (633.989153194, 305.115139958), (628.020525264, 305.115139958), (628.020525264, 300.340237614), (633.034172725, 300.340237614), (633.034172725, 298.191531559), (628.020525264, 298.191531559), (628.020525264, 291.984158512), (634.944133663, 291.984158512), (634.944133663, 289.835452458), (622.290642452, 289.835452458), (622.290642452, 307.263846012), align=None)
    # profile 9 of 9: a face of its own
    with BuildSketch(Plane.XY):
        with BuildLine():
            Line((636.376604366, 289.835452458), (636.376604366, 307.263846012))
            Line((636.376604366, 307.263846012), (643.990335369, 307.263846012))
            add(Edge.make_bspline(
                [(643.990335369, 307.263846012), (644.237946498, 307.261150834), (644.721600887, 307.25588639), (645.426490561, 307.189203683), (646.094808274, 307.090496236), (646.724915796, 306.949857504), (647.317873659, 306.767252686), (647.871119087, 306.542146), (648.390701058, 306.282329135), (648.864494846, 305.976472528), (649.295093616, 305.642889252), (649.669668547, 305.279483604), (649.990389523, 304.894749072), (650.250664962, 304.483256345), (650.454275633, 304.048690948), (650.59581384, 303.587791605), (650.684089268, 303.104102537), (650.695510601, 302.772834174), (650.701311397, 302.604585835)],
                knots=[0, 0, 0, 0, 1.303269877, 2.545653735, 3.724355284, 4.8584284, 5.941462088, 6.987020715, 8.000098032, 8.995332524, 9.951400474, 10.863507538, 11.737823931, 12.582415999, 13.420128714, 14.25671499, 15.114600608, 16, 16, 16, 16], degree=3))
            add(Edge.make_bspline(
                [(650.701311397, 302.604585835), (650.698282873, 302.472674957), (650.692382063, 302.215658276), (650.651041486, 301.838684287), (650.580643818, 301.480313933), (650.481036683, 301.139915259), (650.347814833, 300.820175594), (650.191279492, 300.517863507), (650.009772227, 300.230553342), (649.788675198, 299.970497982), (649.548268341, 299.722842359), (649.274558803, 299.497116911), (648.974487035, 299.288655528), (648.642526299, 299.104010513), (648.287619671, 298.928055749), (647.899038177, 298.784921972), (647.486819978, 298.644749395), (647.19793098, 298.577036306), (647.049257183, 298.54218845)],
                knots=[0, 0, 0, 0, 1.057156483, 2.059775939, 3.035078039, 3.981068617, 4.897189472, 5.80650904, 6.70770952, 7.613691521, 8.536886357, 9.470937334, 10.45233069, 11.461024139, 12.51295332, 13.623444893, 14.776929983, 16, 16, 16, 16], degree=3))
            add(Edge.make_bspline(
                [(647.049257183, 298.54218845), (647.19164695, 298.499279419), (647.467865022, 298.416041346), (647.856360945, 298.265600017), (648.211652989, 298.111536308), (648.524185739, 297.936781388), (648.807636894, 297.762122504), (649.047122259, 297.564301324), (649.255235567, 297.361673563), (649.425188343, 297.135464734), (649.570253643, 296.882344437), (649.694827156, 296.586596707), (649.815179167, 296.247423665), (649.917667348, 295.859098311), (650.004750555, 295.423699276), (650.088222437, 294.944027189), (650.153853601, 294.416024546), (650.187587341, 294.048412906), (650.2051692, 293.856815525)],
                knots=[0, 0, 0, 0, 1.149282524, 2.229462177, 3.219229774, 4.139917433, 4.995948464, 5.788695735, 6.536448429, 7.236319808, 7.968460079, 8.78645307, 9.713791991, 10.749194692, 11.887975363, 13.146018663, 14.512518948, 16, 16, 16, 16], degree=3))
            add(Edge.make_bspline(
                [(650.2051692, 293.856815525), (650.225980287, 293.627849833), (650.265975604, 293.187817268), (650.348933081, 292.554613589), (650.44386163, 291.974357025), (650.555874504, 291.44528724), (650.681301216, 290.967898855), (650.821280597, 290.540469593), (650.979920039, 290.165788217), (651.10484481, 289.941461656), (651.163880062, 289.835452458)],
                knots=[0, 0, 0, 0, 1.324580516, 2.545615266, 3.678710841, 4.711533017, 5.660403917, 6.521349952, 7.301239649, 8, 8, 8, 8], degree=3))
            Line((651.163880062, 289.835452458), (645.213904094, 289.835452458))
            add(Edge.make_bspline(
                [(645.213904094, 289.835452458), (645.12229736, 290.069847279), (644.935171241, 290.548648246), (644.7595281, 291.319414791), (644.64846922, 292.142514735), (644.635117598, 292.70994511), (644.628232479, 293.002555653)],
                knots=[0, 0, 0, 0, 0.930410518, 1.900560147, 2.917368081, 4, 4, 4, 4], degree=3))
            Line((644.628232479, 293.002555653), (644.605850124, 294.002300831))
            Line((644.605850124, 294.002300831), (644.579737377, 295.266903874))
            add(Edge.make_bspline(
                [(644.579737377, 295.266903874), (644.573694669, 295.477395004), (644.562357007, 295.872330118), (644.469348432, 296.426164013), (644.30178735, 296.894645884), (644.073222546, 297.287223005), (643.766741442, 297.590613479), (643.39104803, 297.804152917), (642.950456912, 297.93396284), (642.634664848, 297.946292392), (642.468335247, 297.952786442)],
                knots=[0, 0, 0, 0, 1.295300309, 2.430314163, 3.439929415, 4.342995669, 5.203512789, 6.060756153, 6.978588463, 8, 8, 8, 8], degree=3))
            Line((642.468335247, 297.952786442), (642.106487178, 297.952786442))
            Line((642.106487178, 297.952786442), (642.106487178, 289.835452458))
            Line((642.106487178, 289.835452458), (636.376604366, 289.835452458))
        make_face()
        with BuildLine():
            Line((642.106487178, 299.862747379), (642.617550945, 299.862747379))
            add(Edge.make_bspline(
                [(642.617550945, 299.862747379), (642.722054451, 299.865172716), (642.925280724, 299.869889229), (643.220054897, 299.898289891), (643.494111408, 299.951809873), (643.749840966, 300.021017819), (643.984372137, 300.114851792), (644.200147241, 300.225818296), (644.391160406, 300.362685327), (644.565327067, 300.516342321), (644.718148635, 300.691986294), (644.850351299, 300.889034217), (644.961199162, 301.106225057), (645.056078491, 301.342818683), (645.125883912, 301.600830857), (645.173262731, 301.879472914), (645.203404658, 302.177423605), (645.207875435, 302.383174491), (645.210173702, 302.488943669)],
                knots=[0, 0, 0, 0, 1.184986479, 2.304423995, 3.352332712, 4.347714965, 5.303263624, 6.211353909, 7.091434645, 7.960150225, 8.839440182, 9.723126897, 10.64371617, 11.599264829, 12.608232147, 13.667459739, 14.800924404, 16, 16, 16, 16], degree=3))
            add(Edge.make_bspline(
                [(645.210173702, 302.488943669), (645.207875435, 302.594712847), (645.203404658, 302.800463732), (645.173262731, 303.098414423), (645.125883912, 303.37705648), (645.056078491, 303.635068654), (644.961199162, 303.87166228), (644.850351299, 304.08885312), (644.718148635, 304.285901043), (644.565327067, 304.461545017), (644.391160406, 304.61520201), (644.200147241, 304.752069041), (643.984372137, 304.863035546), (643.749840966, 304.956869518), (643.494111408, 305.026077464), (643.220054897, 305.079597446), (642.925280724, 305.107998108), (642.722054451, 305.112714621), (642.617550945, 305.115139958)],
                knots=[0, 0, 0, 0, 1.199075596, 2.332540261, 3.391767853, 4.400735171, 5.35628383, 6.276873103, 7.160559818, 8.039849775, 8.908565355, 9.788646091, 10.696736376, 11.652285035, 12.647667288, 13.695576005, 14.815013521, 16, 16, 16, 16], degree=3))
            Line((642.617550945, 305.115139958), (642.106487178, 305.115139958))
            Line((642.106487178, 305.115139958), (642.106487178, 299.862747379))
        make_face(mode=Mode.SUBTRACT)
    extrude(amount=BOSS_EXTRUDE4_DEPTH)


with BuildPart() as body_2:
    # Sketch11 → Boss-Extrude3 (new body)
    with BuildSketch(Plane.XY.offset(-100)):
        with Locations((255, 60)):
            Rectangle(SKETCH11_W, SKETCH11_H)
    extrude(amount=BOSS_EXTRUDE3_DEPTH)


with BuildPart() as body_3:
    # Sketch11 → Boss-Extrude3 2 (new body)
    with BuildSketch(Plane.XY.offset(-100)):
        with Locations((415, 60)):
            Rectangle(SKETCH11_W, SKETCH11_H)
    extrude(amount=BOSS_EXTRUDE3_2_DEPTH)


with BuildPart() as body_4:
    # Sketch11 → Boss-Extrude3 3 (new body)
    with BuildSketch(Plane.XY.offset(-100)):
        Polygon((25, 198.45686471), (325, 145.558770497), (325, 122.01775856), (345, 122.01775856), (345, 145.558770497), (645, 198.45686471), align=None)
    extrude(amount=BOSS_EXTRUDE3_3_DEPTH)

    # Sketch15 → Cut-Extrude7 (cut)
    with BuildSketch(Plane(origin=(345, 0, 0), x_dir=(0, 0, -1), z_dir=(1, 0, 0))):
        with Locations((35, 133.231921672)):
            Rectangle(SKETCH15_W, SKETCH15_H)
        with Locations((85, 130.506698154)):
            Rectangle(SKETCH15_W, SKETCH15_H_2)
    extrude(amount=-CUT_EXTRUDE7_DEPTH, mode=Mode.SUBTRACT)

    # Shell1
    shell1_openings = [body_4.faces().sort_by_distance(p)[0] for p in [
        (335, 198.45686471, -61),
    ]]
    offset(amount=SHELL1_T, openings=shell1_openings, kind=Kind.INTERSECTION)

    # Sketch16 → Cut-Extrude8 (cut)
    with BuildSketch(Plane.XZ.offset(-122.01775856)):
        with Locations((335, -60)):
            Rectangle(SKETCH16_W, SKETCH16_H)
    extrude(amount=-CUT_EXTRUDE8_DEPTH, mode=Mode.SUBTRACT)


with BuildPart() as cut_extrude10_tool:
    # Sketch18 → Cut-Extrude10 (new body)
    with BuildSketch(Plane.XY):
        with Locations((335, 140)):
            Rectangle(SKETCH18_W, SKETCH18_H)
    extrude(amount=-CUT_EXTRUDE10_DEPTH)


with BuildPart() as part_1:
    add(part.part)

    # Cut-Extrude10: cut by cut_extrude10_tool
    add(cut_extrude10_tool.part, mode=Mode.SUBTRACT)

    # Sketch19 → Cut-Extrude11 (cut, two sides: drawn at the far end of the back side and taken through both)
    with BuildSketch(Plane.XY.offset(-CUT_EXTRUDE11_DEPTH_BACK)):
        with Locations((612.5, 405)):
            Rectangle(SKETCH19_W, SKETCH19_H)
        with Locations((222.5, 405)):
            Rectangle(SKETCH19_W_2, SKETCH19_H)
    extrude(amount=CUT_EXTRUDE11_DEPTH + CUT_EXTRUDE11_DEPTH_BACK, mode=Mode.SUBTRACT)

    # Sketch20 → Cut-Extrude12 (cut, two sides: drawn at the far end of the back side and taken through both)
    with BuildSketch(Plane.XY.offset(-CUT_EXTRUDE12_DEPTH_BACK)):
        with Locations((500, 467.5)):
            Rectangle(SKETCH20_W, SKETCH20_H)
    extrude(amount=CUT_EXTRUDE12_DEPTH + CUT_EXTRUDE12_DEPTH_BACK, mode=Mode.SUBTRACT)


with BuildPart() as body_2_1:
    add(body_2.part)

    # Cut-Extrude10: cut by cut_extrude10_tool
    add(cut_extrude10_tool.part, mode=Mode.SUBTRACT)


with BuildPart() as body_3_1:
    add(body_3.part)

    # Cut-Extrude10: cut by cut_extrude10_tool
    add(cut_extrude10_tool.part, mode=Mode.SUBTRACT)


with BuildPart() as body_4_1:
    add(body_4.part)

    # Cut-Extrude10: cut by cut_extrude10_tool
    add(cut_extrude10_tool.part, mode=Mode.SUBTRACT)


solid = part_1.part
